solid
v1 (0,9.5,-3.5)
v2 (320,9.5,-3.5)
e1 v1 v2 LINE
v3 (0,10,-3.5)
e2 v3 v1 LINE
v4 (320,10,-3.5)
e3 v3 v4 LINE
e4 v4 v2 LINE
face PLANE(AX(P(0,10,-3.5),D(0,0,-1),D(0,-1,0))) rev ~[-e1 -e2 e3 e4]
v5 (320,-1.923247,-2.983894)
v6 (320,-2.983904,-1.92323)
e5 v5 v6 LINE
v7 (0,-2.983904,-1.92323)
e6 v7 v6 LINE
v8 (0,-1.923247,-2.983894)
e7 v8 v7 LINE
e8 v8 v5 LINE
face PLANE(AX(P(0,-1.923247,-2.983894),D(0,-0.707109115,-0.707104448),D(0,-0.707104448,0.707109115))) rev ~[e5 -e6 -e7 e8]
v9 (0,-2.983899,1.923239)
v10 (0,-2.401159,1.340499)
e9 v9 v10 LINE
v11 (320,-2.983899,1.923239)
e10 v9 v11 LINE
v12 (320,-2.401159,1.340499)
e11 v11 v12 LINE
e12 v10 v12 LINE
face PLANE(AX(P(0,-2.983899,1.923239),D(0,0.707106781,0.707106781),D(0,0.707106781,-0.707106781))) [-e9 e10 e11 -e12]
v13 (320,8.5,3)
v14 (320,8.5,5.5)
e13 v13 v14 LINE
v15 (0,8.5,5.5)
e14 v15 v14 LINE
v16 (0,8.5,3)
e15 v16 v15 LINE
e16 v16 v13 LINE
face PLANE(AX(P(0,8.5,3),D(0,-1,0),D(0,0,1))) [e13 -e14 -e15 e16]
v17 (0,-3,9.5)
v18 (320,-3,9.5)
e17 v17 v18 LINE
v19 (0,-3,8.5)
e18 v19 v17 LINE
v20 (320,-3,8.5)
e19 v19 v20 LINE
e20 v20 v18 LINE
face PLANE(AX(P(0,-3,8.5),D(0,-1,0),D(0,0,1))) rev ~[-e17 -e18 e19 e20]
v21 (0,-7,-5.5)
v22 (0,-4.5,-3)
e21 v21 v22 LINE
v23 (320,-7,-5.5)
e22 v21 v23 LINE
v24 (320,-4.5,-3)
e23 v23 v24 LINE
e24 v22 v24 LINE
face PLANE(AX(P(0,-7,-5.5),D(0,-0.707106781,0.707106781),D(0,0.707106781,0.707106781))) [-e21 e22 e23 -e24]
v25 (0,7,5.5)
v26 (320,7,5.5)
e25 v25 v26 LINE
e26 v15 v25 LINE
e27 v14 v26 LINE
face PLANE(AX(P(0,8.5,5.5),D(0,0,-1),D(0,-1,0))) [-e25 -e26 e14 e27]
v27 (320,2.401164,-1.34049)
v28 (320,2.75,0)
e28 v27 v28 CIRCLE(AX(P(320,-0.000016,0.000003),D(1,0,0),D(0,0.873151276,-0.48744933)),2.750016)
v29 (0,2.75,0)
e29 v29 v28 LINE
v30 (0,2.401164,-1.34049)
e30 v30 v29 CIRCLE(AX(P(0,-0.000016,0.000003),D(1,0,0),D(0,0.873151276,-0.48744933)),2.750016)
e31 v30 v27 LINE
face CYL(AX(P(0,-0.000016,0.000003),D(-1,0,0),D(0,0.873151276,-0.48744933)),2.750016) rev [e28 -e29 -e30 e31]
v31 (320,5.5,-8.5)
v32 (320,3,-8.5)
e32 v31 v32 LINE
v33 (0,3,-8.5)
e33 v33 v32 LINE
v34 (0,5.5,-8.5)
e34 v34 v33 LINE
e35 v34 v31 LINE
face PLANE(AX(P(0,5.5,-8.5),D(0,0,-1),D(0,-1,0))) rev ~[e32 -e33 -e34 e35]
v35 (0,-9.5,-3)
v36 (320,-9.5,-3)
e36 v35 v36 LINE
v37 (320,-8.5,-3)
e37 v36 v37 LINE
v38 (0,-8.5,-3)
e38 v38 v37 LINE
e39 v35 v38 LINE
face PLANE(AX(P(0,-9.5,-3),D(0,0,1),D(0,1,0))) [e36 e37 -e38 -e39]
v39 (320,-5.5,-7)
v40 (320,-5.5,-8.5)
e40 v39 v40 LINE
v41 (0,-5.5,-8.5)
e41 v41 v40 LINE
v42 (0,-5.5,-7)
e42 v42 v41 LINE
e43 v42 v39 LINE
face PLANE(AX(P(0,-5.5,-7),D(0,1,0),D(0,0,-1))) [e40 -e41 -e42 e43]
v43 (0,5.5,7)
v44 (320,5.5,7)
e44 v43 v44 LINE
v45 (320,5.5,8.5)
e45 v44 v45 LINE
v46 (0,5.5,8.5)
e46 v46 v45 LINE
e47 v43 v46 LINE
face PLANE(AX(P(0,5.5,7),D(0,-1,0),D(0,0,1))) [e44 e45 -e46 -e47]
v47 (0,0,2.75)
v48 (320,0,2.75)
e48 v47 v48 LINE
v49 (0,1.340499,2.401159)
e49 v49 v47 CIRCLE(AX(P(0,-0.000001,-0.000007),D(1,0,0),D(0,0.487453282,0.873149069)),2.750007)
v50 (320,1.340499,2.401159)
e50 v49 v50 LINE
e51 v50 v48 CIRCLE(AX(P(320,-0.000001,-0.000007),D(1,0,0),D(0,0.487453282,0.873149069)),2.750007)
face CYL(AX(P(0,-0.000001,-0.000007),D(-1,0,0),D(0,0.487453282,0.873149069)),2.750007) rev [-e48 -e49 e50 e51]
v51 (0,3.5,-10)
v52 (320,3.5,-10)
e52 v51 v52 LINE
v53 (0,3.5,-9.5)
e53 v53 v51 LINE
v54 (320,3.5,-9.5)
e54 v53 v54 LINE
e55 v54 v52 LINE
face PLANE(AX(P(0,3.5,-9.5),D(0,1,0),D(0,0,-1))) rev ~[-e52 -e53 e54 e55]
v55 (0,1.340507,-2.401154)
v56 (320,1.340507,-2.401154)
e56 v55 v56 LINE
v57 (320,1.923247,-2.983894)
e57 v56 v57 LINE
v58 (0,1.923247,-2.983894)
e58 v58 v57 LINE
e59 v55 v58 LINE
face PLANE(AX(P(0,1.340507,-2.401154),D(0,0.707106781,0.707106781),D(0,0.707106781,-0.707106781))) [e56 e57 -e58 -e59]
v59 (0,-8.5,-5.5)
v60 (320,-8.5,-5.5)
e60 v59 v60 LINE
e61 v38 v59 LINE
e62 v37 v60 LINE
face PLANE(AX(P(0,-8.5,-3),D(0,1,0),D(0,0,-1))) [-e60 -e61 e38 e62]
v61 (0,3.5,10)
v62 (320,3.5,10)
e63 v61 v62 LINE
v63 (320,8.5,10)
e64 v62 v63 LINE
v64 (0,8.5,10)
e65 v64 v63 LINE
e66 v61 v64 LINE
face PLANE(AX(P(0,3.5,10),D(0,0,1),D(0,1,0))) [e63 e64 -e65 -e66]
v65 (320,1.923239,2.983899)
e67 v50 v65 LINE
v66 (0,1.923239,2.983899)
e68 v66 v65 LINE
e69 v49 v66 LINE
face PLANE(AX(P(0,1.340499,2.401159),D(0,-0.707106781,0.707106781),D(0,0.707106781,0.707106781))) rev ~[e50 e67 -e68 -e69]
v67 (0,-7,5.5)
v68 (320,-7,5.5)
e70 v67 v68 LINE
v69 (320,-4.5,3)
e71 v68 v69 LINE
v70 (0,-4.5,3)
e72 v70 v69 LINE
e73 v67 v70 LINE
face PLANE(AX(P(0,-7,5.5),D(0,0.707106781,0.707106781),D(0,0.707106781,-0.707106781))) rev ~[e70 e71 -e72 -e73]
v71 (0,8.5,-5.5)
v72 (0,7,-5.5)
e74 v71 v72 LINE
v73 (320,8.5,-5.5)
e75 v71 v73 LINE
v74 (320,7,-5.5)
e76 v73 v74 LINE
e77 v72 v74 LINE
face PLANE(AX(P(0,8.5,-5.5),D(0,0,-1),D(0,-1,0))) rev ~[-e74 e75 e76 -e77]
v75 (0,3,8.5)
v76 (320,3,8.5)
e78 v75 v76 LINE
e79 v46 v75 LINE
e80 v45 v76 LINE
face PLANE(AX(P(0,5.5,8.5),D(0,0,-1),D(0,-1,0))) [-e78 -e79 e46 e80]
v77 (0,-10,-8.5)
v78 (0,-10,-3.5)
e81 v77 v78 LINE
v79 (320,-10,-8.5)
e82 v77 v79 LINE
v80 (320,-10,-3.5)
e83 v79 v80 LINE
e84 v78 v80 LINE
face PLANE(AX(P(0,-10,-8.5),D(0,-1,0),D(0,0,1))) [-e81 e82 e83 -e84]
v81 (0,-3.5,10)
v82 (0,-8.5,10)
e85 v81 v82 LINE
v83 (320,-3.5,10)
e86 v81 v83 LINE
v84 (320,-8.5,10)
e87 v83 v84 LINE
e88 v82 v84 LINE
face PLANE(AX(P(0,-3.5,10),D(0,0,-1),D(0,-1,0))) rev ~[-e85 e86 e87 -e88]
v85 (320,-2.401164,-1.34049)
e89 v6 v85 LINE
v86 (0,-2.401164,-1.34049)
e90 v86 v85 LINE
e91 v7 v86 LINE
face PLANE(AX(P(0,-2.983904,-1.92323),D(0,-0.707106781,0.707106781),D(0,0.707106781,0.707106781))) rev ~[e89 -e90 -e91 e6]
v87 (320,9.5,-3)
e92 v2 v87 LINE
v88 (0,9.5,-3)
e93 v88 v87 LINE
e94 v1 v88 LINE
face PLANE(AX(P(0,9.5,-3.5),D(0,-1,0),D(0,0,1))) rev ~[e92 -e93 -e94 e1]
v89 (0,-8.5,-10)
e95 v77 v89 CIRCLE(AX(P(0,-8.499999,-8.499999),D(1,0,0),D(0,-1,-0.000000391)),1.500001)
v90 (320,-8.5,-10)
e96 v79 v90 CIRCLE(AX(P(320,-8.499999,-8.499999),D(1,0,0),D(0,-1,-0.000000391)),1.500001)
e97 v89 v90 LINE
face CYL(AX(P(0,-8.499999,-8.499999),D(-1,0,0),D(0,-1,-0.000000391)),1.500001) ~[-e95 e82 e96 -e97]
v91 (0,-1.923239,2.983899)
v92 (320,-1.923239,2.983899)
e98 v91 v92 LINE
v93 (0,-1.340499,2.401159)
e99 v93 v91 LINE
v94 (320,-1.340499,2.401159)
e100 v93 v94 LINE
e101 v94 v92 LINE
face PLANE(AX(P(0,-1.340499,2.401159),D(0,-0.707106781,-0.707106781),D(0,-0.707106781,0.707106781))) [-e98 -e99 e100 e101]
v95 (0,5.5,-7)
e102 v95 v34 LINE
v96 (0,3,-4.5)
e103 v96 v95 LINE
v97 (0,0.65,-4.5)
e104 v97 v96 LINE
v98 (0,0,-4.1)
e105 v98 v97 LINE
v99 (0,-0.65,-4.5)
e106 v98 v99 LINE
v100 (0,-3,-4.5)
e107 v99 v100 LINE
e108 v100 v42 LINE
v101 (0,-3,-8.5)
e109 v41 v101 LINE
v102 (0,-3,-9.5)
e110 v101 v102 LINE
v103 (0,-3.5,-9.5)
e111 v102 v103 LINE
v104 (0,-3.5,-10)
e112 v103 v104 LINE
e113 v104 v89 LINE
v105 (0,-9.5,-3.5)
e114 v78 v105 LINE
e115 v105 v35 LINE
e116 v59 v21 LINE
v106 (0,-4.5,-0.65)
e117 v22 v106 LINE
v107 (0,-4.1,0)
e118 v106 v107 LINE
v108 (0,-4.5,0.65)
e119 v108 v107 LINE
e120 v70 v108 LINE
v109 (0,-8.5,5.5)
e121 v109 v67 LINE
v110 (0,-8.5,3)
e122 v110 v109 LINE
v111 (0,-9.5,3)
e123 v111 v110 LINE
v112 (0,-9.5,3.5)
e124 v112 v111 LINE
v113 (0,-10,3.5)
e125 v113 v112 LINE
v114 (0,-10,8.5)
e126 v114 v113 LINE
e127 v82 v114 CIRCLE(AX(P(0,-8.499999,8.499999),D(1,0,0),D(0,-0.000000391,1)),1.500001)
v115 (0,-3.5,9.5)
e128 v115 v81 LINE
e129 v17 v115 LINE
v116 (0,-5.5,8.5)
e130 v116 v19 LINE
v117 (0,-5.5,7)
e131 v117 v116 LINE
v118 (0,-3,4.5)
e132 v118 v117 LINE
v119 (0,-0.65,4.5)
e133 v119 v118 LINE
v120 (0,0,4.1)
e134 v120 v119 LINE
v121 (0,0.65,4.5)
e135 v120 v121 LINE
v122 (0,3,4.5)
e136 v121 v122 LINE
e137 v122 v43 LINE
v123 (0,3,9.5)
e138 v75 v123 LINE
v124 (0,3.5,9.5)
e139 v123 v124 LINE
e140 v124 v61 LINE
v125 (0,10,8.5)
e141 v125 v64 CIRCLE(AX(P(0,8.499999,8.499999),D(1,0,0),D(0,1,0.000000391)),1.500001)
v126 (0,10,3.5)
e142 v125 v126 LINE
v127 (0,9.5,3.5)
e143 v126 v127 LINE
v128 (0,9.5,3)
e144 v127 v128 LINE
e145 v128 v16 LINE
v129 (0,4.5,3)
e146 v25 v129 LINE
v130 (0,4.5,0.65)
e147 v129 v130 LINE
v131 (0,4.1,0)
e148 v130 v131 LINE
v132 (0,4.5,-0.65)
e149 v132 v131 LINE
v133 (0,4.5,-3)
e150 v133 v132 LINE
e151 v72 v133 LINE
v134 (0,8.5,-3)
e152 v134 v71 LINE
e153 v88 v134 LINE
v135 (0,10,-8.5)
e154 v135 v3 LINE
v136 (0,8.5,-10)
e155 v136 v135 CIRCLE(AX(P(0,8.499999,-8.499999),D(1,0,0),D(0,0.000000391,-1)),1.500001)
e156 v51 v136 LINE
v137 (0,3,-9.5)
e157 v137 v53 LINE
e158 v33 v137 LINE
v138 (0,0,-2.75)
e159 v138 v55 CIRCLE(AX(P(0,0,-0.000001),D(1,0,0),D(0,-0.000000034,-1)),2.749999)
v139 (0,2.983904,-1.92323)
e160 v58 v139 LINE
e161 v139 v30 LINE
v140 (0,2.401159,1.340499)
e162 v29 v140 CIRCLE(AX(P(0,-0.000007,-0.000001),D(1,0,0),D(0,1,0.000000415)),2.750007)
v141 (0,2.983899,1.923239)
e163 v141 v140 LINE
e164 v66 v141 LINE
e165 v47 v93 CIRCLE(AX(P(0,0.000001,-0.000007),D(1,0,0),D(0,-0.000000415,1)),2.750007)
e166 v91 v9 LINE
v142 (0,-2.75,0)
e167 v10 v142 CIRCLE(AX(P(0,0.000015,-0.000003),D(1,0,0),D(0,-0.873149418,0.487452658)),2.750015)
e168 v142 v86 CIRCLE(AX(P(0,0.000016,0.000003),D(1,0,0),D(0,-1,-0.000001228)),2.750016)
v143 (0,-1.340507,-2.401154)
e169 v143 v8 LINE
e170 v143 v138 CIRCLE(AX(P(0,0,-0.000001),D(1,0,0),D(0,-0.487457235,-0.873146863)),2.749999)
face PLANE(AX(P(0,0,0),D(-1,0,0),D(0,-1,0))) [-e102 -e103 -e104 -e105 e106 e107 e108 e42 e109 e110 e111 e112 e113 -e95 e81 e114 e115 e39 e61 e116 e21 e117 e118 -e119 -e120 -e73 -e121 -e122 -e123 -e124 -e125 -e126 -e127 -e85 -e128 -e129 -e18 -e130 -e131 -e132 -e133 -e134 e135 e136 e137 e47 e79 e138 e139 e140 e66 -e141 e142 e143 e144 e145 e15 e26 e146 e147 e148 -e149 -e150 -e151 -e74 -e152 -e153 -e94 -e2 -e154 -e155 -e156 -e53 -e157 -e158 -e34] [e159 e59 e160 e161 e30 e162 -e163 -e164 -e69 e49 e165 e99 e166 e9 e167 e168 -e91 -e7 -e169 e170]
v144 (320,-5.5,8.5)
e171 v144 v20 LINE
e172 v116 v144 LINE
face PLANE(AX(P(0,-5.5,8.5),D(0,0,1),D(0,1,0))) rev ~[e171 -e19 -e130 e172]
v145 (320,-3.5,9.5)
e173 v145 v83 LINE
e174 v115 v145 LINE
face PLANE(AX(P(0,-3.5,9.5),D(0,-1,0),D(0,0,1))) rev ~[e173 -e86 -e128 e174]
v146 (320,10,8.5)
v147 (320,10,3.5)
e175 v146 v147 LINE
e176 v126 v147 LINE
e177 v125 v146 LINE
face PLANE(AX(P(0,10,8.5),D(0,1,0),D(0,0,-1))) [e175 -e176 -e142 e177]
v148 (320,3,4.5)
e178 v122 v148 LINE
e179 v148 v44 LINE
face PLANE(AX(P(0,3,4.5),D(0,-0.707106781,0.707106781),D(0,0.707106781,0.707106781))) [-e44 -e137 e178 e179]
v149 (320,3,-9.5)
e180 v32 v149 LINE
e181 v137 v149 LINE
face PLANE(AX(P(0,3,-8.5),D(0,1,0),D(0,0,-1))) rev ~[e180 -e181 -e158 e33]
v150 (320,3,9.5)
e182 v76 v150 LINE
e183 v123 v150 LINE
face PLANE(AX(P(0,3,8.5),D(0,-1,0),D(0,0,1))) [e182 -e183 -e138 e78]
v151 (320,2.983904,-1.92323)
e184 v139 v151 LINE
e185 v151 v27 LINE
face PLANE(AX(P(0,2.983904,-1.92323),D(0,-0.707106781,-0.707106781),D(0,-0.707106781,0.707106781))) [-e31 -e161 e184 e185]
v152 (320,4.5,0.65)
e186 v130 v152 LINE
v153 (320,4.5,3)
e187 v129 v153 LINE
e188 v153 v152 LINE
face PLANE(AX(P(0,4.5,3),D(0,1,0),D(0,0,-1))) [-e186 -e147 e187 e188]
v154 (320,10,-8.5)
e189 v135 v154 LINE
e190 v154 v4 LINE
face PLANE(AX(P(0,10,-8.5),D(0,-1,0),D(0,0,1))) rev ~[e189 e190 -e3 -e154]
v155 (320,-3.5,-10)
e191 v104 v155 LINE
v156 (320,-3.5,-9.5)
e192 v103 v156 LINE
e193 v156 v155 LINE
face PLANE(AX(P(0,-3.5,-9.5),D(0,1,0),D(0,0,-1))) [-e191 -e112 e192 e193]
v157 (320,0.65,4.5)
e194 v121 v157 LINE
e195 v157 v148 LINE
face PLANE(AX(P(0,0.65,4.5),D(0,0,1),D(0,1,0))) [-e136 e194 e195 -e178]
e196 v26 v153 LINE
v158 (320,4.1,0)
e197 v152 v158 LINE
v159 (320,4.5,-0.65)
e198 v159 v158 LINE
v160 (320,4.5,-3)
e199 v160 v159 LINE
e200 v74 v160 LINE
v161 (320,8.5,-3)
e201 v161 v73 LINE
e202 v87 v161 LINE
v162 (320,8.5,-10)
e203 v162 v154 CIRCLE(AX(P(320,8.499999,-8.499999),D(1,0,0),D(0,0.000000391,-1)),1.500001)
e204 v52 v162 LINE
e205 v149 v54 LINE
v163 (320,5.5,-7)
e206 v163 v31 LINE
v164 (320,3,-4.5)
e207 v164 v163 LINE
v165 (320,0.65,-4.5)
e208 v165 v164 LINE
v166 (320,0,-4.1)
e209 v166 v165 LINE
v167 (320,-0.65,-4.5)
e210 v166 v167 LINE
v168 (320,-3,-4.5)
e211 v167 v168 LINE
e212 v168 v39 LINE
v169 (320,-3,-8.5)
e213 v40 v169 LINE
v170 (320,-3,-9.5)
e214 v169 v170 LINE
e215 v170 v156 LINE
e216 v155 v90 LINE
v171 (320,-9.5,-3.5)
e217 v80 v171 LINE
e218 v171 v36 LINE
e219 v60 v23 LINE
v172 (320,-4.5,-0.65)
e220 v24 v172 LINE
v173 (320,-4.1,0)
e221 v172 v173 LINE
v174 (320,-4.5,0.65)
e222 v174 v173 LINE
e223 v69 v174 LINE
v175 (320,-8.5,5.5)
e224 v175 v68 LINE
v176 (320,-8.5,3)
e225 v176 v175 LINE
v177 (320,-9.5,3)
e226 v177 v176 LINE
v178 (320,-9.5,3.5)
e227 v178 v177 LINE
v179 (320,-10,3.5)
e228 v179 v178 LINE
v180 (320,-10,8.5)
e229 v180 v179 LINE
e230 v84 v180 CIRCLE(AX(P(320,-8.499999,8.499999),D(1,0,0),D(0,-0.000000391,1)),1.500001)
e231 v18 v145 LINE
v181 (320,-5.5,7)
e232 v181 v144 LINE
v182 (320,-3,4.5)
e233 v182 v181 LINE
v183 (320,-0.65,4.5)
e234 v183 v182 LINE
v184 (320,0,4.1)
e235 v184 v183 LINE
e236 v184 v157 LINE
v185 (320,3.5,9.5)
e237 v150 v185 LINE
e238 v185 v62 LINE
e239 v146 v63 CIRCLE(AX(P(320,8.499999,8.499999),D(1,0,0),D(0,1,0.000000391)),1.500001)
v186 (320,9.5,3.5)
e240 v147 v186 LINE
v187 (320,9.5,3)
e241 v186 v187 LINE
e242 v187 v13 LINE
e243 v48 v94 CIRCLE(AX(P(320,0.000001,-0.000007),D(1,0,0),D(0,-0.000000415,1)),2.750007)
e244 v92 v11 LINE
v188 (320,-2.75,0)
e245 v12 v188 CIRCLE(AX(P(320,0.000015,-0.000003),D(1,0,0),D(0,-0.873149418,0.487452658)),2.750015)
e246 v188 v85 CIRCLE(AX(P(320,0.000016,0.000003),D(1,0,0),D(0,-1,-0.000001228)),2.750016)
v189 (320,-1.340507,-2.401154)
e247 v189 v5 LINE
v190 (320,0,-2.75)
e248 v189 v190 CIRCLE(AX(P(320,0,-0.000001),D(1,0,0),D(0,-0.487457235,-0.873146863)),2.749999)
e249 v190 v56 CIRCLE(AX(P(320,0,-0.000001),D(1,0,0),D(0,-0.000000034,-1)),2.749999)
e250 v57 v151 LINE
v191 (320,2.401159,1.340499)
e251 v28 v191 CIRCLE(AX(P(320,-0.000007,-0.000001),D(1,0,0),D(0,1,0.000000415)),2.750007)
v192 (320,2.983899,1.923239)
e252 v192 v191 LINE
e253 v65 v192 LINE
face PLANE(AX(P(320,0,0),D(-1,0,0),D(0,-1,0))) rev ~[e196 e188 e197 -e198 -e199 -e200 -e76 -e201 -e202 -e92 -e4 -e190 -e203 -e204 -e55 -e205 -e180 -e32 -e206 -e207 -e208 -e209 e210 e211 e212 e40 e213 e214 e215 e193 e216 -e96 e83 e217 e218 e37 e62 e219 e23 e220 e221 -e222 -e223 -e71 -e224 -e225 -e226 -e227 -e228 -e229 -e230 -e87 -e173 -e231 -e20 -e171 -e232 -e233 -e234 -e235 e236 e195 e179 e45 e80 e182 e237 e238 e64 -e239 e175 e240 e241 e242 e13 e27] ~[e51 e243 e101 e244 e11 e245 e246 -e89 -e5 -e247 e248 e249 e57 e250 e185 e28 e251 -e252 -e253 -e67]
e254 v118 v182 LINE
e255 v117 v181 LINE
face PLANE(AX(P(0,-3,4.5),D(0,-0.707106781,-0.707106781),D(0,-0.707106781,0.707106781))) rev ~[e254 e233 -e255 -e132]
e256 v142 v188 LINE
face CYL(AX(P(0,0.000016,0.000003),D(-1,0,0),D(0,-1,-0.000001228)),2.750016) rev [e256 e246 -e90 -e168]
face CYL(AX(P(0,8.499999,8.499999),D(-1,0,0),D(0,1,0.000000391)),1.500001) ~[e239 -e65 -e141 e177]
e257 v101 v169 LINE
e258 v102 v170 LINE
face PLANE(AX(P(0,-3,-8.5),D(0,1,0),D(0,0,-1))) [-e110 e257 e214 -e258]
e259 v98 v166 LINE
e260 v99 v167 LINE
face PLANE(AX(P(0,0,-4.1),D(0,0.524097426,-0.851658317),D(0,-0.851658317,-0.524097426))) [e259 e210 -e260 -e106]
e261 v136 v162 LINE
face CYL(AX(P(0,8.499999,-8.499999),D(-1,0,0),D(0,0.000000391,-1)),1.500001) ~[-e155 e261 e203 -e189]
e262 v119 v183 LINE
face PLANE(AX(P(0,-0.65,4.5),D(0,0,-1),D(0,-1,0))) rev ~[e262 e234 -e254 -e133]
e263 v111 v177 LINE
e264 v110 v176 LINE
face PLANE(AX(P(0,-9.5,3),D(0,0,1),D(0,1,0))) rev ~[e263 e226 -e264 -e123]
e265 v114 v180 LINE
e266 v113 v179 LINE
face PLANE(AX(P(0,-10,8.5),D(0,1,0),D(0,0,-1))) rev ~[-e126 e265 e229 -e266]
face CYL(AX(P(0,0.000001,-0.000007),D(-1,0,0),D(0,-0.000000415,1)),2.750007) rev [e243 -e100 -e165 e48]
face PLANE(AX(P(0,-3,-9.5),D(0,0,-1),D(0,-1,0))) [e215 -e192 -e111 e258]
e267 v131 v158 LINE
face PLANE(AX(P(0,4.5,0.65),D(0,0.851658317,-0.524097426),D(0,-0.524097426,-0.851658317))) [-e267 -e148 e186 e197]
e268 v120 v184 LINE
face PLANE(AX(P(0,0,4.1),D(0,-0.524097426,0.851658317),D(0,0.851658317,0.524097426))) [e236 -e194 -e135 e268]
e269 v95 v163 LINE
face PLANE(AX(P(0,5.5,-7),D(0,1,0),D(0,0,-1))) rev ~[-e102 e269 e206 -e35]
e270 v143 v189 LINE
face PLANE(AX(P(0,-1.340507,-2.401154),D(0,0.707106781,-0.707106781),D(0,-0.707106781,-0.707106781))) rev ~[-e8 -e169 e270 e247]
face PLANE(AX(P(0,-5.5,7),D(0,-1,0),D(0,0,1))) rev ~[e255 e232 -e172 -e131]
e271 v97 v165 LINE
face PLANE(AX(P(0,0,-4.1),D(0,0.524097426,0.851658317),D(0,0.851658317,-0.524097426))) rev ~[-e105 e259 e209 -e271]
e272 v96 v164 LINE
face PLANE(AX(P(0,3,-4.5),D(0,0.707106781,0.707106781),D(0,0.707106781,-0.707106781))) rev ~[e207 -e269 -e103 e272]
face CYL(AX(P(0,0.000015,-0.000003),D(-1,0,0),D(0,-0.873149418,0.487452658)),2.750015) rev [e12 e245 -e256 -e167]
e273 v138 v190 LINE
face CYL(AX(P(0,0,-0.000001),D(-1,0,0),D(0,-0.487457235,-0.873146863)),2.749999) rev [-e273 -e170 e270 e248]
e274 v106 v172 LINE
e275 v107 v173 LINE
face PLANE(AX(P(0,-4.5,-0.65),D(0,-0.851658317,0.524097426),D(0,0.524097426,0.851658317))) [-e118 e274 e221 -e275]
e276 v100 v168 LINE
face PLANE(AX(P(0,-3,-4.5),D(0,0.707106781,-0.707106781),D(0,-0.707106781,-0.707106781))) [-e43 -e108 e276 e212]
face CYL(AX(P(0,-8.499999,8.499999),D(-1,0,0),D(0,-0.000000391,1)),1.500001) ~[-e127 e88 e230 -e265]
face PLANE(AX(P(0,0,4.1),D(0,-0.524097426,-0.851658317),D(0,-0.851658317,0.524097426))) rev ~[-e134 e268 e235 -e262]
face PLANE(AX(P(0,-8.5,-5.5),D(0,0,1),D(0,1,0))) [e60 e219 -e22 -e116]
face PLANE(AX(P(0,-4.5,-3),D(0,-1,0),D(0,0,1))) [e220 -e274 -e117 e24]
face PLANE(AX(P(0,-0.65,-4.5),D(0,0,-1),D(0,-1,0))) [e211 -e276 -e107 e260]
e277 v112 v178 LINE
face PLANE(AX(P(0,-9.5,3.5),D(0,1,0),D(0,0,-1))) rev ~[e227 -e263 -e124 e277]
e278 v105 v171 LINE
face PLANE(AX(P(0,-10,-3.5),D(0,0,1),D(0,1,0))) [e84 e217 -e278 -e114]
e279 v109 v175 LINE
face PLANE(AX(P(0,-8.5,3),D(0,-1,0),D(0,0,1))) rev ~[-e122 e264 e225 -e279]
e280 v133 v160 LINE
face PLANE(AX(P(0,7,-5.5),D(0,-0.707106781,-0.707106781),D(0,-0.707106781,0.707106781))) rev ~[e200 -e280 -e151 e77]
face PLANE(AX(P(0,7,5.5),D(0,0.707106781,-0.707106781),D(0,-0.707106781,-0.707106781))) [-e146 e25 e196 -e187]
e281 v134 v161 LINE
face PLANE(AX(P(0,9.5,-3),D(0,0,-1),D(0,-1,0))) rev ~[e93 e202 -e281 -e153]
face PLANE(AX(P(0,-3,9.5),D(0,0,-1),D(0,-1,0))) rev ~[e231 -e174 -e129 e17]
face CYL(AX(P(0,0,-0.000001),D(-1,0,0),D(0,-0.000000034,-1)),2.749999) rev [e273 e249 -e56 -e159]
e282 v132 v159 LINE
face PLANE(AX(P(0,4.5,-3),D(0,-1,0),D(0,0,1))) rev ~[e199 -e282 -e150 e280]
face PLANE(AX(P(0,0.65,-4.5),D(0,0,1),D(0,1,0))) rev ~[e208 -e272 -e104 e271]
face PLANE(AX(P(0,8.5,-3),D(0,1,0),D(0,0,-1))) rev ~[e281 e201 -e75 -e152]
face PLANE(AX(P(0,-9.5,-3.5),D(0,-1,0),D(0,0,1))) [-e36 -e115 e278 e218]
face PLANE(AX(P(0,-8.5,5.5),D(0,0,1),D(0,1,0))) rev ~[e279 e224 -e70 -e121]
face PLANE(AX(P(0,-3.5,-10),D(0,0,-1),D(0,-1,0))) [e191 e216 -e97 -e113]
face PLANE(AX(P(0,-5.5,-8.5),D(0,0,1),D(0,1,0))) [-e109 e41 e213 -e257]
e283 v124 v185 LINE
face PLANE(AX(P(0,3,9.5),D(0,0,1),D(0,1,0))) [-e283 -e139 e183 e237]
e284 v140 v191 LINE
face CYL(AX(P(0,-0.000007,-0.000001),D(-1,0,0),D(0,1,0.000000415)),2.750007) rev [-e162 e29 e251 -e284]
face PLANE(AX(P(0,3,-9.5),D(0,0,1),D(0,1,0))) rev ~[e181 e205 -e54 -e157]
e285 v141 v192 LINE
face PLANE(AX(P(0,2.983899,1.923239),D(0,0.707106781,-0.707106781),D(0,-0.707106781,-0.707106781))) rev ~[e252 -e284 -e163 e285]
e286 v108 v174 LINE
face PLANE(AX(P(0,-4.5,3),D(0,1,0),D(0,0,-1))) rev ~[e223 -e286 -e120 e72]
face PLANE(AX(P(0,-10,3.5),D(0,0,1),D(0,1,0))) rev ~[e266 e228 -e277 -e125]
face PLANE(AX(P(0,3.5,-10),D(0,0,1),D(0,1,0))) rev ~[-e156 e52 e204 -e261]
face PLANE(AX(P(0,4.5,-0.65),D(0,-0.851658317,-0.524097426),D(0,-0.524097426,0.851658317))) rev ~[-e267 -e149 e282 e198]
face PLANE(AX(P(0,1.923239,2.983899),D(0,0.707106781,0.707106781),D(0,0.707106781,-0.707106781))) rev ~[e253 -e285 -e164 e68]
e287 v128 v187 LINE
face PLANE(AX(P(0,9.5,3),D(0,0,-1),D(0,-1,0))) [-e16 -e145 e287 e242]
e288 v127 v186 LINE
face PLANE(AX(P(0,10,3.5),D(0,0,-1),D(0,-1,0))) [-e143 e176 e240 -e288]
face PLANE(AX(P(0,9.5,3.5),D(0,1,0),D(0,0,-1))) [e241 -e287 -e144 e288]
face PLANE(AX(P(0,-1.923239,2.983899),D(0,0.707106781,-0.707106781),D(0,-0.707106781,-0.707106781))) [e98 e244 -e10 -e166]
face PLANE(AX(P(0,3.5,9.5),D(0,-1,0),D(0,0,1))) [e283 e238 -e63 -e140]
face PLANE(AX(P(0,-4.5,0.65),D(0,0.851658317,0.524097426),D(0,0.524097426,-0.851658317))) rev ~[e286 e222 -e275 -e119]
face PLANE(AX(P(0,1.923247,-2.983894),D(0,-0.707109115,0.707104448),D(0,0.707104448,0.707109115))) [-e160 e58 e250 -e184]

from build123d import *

# Parameters (mm, degrees)
PAD_DEPTH = 320


with BuildPart() as part:
    # Sketch → Pad (new body)
    with BuildSketch(Plane.YZ):
        with BuildLine():
            Line((0, 4.1), (0.65, 4.5))
            Line((0.65, 4.5), (3, 4.5))
            Line((3, 4.5), (5.5, 7))
            Line((5.5, 7), (5.5, 8.5))
            Line((5.5, 8.5), (3, 8.5))
            Line((3, 8.5), (3, 9.5))
            Line((3, 9.5), (3.5, 9.5))
            Line((3.5, 9.5), (3.5, 10))
            Line((3.5, 10), (8.5, 10))
            ThreePointArc((10, 8.5), (9.56066, 9.56066), (8.5, 10))
            Line((10, 8.5), (10, 3.5))
            Line((10, 3.5), (9.5, 3.5))
            Line((9.5, 3.5), (9.5, 3))
            Line((9.5, 3), (8.5, 3))
            Line((8.5, 3), (8.5, 5.5))
            Line((8.5, 5.5), (7, 5.5))
            Line((7, 5.5), (4.5, 3))
            Line((4.5, 3), (4.5, 0.65))
            Line((4.5, 0.65), (4.1, 0))
            Line((4.5, -0.65), (4.1, 0))
            Line((4.5, -3), (4.5, -0.65))
            Line((7, -5.5), (4.5, -3))
            Line((8.5, -5.5), (7, -5.5))
            Line((8.5, -3), (8.5, -5.5))
            Line((9.5, -3), (8.5, -3))
            Line((9.5, -3.5), (9.5, -3))
            Line((10, -3.5), (9.5, -3.5))
            Line((10, -8.5), (10, -3.5))
            ThreePointArc((8.5, -10), (9.56066, -9.56066), (10, -8.5))
            Line((3.5, -10), (8.5, -10))
            Line((3.5, -9.5), (3.5, -10))
            Line((3, -9.5), (3.5, -9.5))
            Line((3, -8.5), (3, -9.5))
            Line((5.5, -8.5), (3, -8.5))
            Line((5.5, -7), (5.5, -8.5))
            Line((3, -4.5), (5.5, -7))
            Line((0.65, -4.5), (3, -4.5))
            Line((0, -4.1), (0.65, -4.5))
            Line((0, -4.1), (-0.65, -4.5))
            Line((-0.65, -4.5), (-3, -4.5))
            Line((-3, -4.5), (-5.5, -7))
            Line((-5.5, -7), (-5.5, -8.5))
            Line((-5.5, -8.5), (-3, -8.5))
            Line((-3, -8.5), (-3, -9.5))
            Line((-3, -9.5), (-3.5, -9.5))
            Line((-3.5, -9.5), (-3.5, -10))
            Line((-3.5, -10), (-8.5, -10))
            ThreePointArc((-10, -8.5), (-9.56066, -9.56066), (-8.5, -10))
            Line((-10, -8.5), (-10, -3.5))
            Line((-10, -3.5), (-9.5, -3.5))
            Line((-9.5, -3.5), (-9.5, -3))
            Line((-9.5, -3), (-8.5, -3))
            Line((-8.5, -3), (-8.5, -5.5))
            Line((-8.5, -5.5), (-7, -5.5))
            Line((-7, -5.5), (-4.5, -3))
            Line((-4.5, -3), (-4.5, -0.65))
            Line((-4.5, -0.65), (-4.1, 0))
            Line((-4.5, 0.65), (-4.1, 0))
            Line((-4.5, 3), (-4.5, 0.65))
            Line((-7, 5.5), (-4.5, 3))
            Line((-8.5, 5.5), (-7, 5.5))
            Line((-8.5, 3), (-8.5, 5.5))
            Line((-9.5, 3), (-8.5, 3))
            Line((-9.5, 3.5), (-9.5, 3))
            Line((-10, 3.5), (-9.5, 3.5))
            Line((-10, 8.5), (-10, 3.5))
            ThreePointArc((-8.5, 10), (-9.56066, 9.56066), (-10, 8.5))
            Line((-3.5, 10), (-8.5, 10))
            Line((-3.5, 9.5), (-3.5, 10))
            Line((-3, 9.5), (-3.5, 9.5))
            Line((-3, 8.5), (-3, 9.5))
            Line((-5.5, 8.5), (-3, 8.5))
            Line((-5.5, 7), (-5.5, 8.5))
            Line((-3, 4.5), (-5.5, 7))
            Line((-0.65, 4.5), (-3, 4.5))
            Line((0, 4.1), (-0.65, 4.5))
        make_face()
        with BuildLine():
            Line((1.340499, 2.401159), (1.923239, 2.983899))
            Line((1.923239, 2.983899), (2.983899, 1.923239))
            Line((2.983899, 1.923239), (2.401159, 1.340499))
            ThreePointArc((2.75, 0), (2.661361, 0.692573), (2.401159, 1.340499))
            ThreePointArc((2.401164, -1.34049), (2.661362, -0.692568), (2.75, 0))
            Line((2.983904, -1.92323), (2.401164, -1.34049))
            Line((1.923247, -2.983894), (2.983904, -1.92323))
            Line((1.340507, -2.401154), (1.923247, -2.983894))
            ThreePointArc((0, -2.75), (0.692577, -2.66136), (1.340507, -2.401154))
            ThreePointArc((-1.340507, -2.401154), (-0.692577, -2.66136), (0, -2.75))
            Line((-1.340507, -2.401154), (-1.923247, -2.983894))
            Line((-1.923247, -2.983894), (-2.983904, -1.92323))
            Line((-2.983904, -1.92323), (-2.401164, -1.34049))
            ThreePointArc((-2.75, 0), (-2.661362, -0.692568), (-2.401164, -1.34049))
            ThreePointArc((-2.401159, 1.340499), (-2.661361, 0.692572), (-2.75, 0))
            Line((-2.983899, 1.923239), (-2.401159, 1.340499))
            Line((-1.923239, 2.983899), (-2.983899, 1.923239))
            Line((-1.340499, 2.401159), (-1.923239, 2.983899))
            ThreePointArc((0, 2.75), (-0.692573, 2.661361), (-1.340499, 2.401159))
            ThreePointArc((1.340499, 2.401159), (0.692573, 2.661361), (0, 2.75))
        make_face(mode=Mode.SUBTRACT)
    extrude(amount=PAD_DEPTH)


solid = part.part
